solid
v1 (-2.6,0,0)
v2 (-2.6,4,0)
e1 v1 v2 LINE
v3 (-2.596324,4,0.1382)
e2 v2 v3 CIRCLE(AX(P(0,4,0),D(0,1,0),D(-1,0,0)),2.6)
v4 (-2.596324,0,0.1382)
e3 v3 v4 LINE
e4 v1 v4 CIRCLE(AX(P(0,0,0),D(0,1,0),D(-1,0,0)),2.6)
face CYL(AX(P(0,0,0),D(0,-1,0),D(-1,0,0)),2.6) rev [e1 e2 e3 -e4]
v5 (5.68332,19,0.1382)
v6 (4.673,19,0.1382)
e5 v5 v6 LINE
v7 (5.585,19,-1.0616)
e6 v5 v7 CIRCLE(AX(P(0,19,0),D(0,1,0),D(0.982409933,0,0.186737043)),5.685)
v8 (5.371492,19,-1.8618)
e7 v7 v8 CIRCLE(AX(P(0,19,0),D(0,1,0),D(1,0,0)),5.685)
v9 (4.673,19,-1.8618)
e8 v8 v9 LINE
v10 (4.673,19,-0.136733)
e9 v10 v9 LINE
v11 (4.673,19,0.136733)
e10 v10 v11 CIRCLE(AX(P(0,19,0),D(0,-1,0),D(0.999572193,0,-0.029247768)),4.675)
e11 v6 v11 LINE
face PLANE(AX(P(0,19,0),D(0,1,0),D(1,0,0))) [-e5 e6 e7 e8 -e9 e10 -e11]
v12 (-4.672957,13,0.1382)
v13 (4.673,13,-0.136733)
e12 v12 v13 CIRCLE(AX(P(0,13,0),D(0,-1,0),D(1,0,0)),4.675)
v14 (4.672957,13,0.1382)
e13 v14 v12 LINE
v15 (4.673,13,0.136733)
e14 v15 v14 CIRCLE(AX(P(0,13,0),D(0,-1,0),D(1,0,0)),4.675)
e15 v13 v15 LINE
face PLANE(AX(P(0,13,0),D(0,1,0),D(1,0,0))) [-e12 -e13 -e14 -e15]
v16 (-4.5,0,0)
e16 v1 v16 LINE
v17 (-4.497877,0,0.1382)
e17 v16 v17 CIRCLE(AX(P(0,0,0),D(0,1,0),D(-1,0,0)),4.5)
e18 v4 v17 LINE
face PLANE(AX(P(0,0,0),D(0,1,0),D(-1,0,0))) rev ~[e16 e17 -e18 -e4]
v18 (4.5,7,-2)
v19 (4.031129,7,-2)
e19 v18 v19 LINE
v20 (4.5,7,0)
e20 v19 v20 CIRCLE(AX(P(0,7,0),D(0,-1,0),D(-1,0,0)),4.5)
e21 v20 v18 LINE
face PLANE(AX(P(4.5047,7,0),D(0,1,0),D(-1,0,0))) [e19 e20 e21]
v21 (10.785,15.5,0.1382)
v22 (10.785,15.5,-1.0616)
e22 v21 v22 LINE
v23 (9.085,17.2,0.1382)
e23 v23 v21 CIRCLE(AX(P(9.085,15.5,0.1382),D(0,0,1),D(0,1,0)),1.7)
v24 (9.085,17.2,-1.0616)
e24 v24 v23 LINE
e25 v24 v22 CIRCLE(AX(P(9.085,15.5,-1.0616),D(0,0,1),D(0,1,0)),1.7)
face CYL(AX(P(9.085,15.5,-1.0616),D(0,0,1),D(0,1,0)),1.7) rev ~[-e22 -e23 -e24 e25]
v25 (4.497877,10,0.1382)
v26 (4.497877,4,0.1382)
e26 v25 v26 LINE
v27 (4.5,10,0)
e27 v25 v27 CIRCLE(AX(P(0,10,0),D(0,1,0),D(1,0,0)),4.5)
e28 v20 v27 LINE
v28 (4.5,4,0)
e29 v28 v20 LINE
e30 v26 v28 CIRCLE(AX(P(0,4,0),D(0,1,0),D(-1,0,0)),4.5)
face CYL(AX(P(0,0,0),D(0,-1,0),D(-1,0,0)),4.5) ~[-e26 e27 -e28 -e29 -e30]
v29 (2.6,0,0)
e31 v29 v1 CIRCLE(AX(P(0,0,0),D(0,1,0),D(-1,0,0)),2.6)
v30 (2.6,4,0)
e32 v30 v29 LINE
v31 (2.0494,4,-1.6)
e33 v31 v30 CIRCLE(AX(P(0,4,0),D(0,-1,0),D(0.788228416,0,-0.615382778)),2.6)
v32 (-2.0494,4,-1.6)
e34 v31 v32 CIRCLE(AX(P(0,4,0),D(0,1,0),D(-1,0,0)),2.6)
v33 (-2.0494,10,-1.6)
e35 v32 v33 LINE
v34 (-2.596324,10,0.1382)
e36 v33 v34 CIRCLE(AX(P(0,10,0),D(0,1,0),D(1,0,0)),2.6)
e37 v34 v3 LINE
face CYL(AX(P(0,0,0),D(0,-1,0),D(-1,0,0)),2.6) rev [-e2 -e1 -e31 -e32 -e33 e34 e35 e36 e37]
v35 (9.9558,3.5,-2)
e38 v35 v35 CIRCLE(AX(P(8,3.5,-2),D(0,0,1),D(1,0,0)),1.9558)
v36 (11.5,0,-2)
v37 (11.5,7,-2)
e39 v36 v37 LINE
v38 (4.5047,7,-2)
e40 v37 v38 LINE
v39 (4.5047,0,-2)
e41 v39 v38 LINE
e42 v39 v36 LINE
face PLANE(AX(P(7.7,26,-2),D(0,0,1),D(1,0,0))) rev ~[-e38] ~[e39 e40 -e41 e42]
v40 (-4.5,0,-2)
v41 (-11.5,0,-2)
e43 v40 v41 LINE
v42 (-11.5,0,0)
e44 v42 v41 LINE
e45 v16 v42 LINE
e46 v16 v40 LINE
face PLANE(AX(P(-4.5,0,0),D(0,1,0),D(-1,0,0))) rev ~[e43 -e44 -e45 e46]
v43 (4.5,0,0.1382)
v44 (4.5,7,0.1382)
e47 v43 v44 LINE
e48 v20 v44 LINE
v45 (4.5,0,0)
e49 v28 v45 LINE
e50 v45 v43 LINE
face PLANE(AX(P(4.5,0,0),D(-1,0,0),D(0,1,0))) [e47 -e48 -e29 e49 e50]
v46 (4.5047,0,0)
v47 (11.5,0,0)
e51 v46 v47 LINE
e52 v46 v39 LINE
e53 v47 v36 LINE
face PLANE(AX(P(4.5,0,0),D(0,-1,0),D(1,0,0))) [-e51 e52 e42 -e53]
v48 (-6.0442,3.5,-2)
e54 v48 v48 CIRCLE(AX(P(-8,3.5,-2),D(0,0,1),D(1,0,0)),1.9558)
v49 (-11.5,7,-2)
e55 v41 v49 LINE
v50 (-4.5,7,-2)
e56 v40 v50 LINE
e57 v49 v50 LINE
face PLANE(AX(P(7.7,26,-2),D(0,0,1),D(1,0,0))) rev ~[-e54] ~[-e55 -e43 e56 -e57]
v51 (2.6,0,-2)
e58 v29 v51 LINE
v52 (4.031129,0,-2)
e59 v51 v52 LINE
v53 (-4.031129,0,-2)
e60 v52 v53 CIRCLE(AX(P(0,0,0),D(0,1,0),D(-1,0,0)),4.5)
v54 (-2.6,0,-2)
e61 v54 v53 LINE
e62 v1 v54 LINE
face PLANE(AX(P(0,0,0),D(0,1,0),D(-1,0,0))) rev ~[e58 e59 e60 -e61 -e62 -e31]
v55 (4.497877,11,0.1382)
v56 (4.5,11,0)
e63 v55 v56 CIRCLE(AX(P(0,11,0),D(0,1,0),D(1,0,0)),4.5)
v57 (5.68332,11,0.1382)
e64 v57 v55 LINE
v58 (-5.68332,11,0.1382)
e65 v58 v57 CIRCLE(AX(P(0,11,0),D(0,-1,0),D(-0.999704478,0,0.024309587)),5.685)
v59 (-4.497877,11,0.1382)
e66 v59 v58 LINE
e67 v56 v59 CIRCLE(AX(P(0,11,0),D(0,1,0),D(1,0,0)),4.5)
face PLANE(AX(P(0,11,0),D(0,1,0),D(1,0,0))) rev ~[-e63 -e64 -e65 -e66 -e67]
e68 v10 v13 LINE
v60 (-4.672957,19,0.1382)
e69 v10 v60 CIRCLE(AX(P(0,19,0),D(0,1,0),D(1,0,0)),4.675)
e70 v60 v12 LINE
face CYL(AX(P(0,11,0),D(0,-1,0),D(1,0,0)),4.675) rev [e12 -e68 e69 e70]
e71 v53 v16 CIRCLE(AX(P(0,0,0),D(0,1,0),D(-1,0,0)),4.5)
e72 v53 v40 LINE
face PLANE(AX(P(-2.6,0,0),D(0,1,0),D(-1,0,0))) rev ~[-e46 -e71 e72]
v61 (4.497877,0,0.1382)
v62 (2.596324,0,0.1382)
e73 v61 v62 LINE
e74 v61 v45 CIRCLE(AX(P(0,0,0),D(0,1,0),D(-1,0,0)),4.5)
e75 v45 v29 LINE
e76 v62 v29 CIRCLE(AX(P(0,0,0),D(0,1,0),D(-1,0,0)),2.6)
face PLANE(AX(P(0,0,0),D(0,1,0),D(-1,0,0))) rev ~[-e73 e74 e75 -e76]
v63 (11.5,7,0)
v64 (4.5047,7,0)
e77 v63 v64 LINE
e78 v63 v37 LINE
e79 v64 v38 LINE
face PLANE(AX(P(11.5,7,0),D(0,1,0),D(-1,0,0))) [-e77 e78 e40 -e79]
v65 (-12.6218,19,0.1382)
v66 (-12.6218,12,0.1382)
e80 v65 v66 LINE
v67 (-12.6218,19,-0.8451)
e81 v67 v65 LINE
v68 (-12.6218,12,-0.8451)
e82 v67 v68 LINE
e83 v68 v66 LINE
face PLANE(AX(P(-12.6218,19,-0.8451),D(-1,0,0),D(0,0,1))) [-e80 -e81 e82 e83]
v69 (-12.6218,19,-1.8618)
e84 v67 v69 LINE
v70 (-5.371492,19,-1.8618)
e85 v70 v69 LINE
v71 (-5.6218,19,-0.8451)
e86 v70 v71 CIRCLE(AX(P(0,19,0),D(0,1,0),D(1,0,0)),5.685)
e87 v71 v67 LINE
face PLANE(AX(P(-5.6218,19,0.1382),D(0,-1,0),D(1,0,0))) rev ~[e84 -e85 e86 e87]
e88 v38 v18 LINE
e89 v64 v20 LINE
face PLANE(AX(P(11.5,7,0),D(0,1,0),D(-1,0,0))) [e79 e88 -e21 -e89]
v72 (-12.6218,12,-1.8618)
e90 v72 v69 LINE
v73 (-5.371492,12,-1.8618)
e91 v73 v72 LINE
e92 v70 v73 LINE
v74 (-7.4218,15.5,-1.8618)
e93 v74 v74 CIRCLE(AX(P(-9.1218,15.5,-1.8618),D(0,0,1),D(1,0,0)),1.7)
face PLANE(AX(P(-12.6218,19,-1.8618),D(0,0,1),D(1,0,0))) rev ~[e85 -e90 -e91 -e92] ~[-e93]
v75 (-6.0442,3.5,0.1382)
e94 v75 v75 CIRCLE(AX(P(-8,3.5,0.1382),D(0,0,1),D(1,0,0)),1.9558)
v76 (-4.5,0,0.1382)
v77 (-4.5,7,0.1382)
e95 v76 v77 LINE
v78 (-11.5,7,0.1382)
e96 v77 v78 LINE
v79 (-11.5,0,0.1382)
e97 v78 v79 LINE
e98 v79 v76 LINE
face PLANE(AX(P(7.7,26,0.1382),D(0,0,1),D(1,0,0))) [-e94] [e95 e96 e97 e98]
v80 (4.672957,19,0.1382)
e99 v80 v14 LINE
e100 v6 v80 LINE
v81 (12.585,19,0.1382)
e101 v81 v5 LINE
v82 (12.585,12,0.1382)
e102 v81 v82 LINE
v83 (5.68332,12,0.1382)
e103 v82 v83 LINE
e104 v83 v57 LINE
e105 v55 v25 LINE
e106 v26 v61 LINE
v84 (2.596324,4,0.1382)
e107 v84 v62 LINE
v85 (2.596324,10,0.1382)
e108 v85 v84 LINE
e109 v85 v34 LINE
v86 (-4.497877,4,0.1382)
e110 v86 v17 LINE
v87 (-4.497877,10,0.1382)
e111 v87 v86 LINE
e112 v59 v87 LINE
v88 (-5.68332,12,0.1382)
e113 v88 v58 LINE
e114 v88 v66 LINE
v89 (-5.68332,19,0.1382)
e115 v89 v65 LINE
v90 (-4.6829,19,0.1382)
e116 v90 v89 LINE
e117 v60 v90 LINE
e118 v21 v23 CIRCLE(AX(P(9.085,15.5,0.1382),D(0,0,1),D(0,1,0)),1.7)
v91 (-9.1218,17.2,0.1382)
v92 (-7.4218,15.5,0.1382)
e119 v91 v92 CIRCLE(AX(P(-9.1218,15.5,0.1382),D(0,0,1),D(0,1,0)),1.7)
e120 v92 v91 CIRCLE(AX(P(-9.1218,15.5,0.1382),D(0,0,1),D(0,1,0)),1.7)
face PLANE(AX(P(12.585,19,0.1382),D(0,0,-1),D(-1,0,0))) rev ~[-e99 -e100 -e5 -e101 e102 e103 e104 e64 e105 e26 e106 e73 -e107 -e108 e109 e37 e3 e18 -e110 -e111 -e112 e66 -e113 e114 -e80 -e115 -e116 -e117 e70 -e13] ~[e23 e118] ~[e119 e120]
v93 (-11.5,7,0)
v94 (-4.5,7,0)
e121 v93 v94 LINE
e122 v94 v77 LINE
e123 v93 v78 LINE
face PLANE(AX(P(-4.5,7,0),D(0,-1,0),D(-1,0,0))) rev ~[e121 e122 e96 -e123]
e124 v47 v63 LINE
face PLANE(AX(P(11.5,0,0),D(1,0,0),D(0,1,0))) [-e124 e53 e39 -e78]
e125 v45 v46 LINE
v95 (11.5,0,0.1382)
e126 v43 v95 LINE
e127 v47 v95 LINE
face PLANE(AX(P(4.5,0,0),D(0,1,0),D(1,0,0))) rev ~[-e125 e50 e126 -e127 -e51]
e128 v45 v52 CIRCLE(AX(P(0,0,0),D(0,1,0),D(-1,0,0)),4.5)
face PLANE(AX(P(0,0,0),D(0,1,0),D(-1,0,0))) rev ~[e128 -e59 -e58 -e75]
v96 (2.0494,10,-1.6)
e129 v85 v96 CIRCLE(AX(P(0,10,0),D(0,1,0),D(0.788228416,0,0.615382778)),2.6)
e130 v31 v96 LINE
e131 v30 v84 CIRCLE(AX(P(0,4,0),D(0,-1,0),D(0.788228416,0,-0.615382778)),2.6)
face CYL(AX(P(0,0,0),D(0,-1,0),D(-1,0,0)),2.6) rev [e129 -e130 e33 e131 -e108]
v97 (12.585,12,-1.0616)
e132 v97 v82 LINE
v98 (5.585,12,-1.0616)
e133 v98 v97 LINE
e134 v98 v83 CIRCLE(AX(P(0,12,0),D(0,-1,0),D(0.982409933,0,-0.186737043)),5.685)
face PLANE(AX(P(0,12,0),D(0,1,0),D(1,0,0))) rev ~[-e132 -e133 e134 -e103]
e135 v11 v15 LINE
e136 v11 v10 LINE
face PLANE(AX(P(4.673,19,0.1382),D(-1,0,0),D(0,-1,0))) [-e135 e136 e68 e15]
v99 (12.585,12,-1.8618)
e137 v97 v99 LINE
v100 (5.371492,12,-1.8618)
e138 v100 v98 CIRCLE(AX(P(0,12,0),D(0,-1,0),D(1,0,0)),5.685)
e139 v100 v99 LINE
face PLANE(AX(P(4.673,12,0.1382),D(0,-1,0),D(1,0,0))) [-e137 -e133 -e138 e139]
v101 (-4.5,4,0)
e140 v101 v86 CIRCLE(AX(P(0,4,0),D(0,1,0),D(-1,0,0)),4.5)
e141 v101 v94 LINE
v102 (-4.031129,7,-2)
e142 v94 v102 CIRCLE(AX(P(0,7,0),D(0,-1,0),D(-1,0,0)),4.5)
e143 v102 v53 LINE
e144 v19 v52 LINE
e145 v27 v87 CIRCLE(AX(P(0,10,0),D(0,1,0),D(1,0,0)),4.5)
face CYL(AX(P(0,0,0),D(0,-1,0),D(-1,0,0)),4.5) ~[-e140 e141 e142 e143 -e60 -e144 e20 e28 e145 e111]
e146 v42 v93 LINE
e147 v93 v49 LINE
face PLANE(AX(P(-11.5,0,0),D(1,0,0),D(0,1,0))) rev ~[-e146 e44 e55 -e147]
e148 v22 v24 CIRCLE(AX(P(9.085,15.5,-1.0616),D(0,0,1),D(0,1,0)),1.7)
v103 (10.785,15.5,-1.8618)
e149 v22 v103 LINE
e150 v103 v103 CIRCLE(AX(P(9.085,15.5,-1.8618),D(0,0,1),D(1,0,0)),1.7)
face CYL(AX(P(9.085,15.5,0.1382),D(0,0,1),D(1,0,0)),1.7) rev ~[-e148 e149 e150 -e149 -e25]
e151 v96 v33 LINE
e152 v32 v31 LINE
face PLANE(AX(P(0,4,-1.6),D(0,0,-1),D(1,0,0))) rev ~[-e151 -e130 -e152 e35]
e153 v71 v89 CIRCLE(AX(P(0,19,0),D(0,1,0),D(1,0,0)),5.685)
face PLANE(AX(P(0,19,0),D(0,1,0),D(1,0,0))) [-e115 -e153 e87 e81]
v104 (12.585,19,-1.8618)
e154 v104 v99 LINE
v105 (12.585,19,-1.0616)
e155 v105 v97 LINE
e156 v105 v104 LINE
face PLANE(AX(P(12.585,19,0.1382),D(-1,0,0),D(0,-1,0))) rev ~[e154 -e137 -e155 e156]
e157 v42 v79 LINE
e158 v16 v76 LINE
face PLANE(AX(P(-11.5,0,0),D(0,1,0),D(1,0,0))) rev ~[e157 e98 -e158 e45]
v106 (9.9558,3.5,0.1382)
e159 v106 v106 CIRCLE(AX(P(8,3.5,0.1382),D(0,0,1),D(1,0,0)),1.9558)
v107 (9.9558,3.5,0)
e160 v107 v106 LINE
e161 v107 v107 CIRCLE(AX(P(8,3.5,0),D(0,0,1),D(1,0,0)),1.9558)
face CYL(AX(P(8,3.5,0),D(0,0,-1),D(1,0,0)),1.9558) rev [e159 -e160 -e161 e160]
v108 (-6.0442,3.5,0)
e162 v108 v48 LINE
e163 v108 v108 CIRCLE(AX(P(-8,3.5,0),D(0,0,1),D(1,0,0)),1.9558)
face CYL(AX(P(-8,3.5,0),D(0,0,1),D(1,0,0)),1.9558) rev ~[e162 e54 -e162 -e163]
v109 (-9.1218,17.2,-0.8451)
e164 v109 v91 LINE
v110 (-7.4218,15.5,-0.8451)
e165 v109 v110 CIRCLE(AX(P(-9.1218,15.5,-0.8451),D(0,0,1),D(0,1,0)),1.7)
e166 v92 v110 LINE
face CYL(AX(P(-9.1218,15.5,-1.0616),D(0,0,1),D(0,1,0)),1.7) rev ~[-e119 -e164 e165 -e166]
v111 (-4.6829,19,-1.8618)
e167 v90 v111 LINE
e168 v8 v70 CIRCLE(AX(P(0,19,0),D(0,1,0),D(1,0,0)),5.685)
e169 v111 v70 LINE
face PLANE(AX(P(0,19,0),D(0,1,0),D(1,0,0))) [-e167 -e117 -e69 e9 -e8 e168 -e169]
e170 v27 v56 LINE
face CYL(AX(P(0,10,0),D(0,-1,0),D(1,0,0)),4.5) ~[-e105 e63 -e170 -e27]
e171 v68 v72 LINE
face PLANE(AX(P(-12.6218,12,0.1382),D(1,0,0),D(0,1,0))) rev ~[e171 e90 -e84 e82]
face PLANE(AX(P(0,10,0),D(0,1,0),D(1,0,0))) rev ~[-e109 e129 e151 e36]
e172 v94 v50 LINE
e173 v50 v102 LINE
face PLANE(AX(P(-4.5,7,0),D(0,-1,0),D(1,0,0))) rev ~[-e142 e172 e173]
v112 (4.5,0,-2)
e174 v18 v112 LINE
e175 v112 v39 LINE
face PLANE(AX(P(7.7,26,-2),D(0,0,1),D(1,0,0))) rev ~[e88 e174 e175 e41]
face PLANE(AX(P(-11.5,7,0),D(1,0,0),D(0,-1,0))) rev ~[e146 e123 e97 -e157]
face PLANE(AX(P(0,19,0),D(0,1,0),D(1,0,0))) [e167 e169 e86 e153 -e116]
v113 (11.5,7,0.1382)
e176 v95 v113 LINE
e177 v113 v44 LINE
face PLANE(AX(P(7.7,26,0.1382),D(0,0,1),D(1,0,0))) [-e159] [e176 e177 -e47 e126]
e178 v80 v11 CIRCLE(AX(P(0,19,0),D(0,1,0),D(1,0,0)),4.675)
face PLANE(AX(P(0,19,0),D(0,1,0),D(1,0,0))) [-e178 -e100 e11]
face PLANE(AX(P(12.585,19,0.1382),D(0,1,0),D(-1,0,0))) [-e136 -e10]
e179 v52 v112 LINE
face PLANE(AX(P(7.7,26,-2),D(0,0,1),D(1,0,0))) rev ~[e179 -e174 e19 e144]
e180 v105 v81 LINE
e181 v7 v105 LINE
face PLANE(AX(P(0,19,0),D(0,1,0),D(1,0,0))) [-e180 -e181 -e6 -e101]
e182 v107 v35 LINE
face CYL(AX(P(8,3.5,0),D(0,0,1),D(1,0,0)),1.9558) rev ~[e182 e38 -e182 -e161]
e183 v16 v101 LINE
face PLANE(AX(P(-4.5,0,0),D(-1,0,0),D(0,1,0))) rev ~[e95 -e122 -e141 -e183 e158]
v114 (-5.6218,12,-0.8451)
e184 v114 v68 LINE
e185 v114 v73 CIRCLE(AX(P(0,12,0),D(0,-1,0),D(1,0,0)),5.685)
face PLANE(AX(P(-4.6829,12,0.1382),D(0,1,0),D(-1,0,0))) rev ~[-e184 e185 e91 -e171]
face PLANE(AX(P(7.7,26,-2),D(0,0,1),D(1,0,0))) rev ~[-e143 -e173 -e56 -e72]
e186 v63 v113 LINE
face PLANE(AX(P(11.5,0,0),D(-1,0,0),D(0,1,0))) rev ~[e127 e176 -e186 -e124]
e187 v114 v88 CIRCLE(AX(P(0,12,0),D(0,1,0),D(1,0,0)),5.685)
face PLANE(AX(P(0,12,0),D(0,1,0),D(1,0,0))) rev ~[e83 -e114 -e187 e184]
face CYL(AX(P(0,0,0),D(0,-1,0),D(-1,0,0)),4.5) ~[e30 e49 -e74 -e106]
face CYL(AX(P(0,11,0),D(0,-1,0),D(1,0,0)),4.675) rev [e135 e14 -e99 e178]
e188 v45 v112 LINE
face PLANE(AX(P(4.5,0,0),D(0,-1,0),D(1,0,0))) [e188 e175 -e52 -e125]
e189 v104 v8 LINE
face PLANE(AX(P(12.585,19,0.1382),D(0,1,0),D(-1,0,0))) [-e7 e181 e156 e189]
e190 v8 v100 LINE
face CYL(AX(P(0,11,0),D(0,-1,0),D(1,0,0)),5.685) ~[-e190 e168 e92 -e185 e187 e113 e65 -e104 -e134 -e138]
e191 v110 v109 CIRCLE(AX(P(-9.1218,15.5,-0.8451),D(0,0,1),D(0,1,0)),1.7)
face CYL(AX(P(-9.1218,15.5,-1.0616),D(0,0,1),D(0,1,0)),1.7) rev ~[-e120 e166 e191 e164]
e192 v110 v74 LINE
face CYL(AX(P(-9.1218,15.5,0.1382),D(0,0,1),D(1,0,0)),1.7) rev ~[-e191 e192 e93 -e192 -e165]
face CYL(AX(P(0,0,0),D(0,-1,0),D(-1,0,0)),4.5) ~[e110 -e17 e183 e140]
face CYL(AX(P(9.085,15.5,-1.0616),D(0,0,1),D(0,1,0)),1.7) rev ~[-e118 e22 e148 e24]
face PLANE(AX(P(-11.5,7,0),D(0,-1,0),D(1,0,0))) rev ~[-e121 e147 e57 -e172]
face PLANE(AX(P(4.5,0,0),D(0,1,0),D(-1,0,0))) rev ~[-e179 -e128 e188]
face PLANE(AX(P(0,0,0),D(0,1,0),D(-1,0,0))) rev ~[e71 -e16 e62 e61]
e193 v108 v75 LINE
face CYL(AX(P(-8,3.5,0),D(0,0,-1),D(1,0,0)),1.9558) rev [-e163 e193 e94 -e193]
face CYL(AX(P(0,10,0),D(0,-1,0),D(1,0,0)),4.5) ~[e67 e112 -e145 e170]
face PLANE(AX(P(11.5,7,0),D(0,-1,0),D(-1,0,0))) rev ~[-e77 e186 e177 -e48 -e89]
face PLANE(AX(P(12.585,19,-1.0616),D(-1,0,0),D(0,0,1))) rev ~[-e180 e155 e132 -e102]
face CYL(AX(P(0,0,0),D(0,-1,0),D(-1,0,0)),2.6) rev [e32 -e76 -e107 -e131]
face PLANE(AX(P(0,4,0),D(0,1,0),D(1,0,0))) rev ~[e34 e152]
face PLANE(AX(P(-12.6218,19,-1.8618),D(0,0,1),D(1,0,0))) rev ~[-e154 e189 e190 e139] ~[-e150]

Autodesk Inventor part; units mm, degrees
sketch "Sketch3" plane through (0, 0, 0) normal (0, 1, 0) x (-1, 0, 0)
  circle A0 centre (0, 0) radius 4.5
  circle A1 centre (0, 0) radius 2.6
  dimension "d10" = 9
  dimension "d11" = 5.2
extrude "Extrusion2" add sketch "Sketch3" along normal blind 4
sketch "Sketch4" plane through (0, 4, 0) normal (0, 1, 0) x (1, 0, 0)
  circle A0 centre (0, 0) radius 2.6 projected
  line L0 (0, -2.6) -> (0, -1.6)
  line L1 (0, -1.6) -> (0, 2.6)
  line L2 (0, -1.6) -> (-2.0494, -1.6)
  line L3 (0, -1.6) -> (2.0494, -1.6)
  line L4 (0, 2.6) -> (0, 2.6)
  line L5 (0, 2.6) -> (0, 2.6)
  circle A1 centre (0, 0) radius 4.5 projected
  circle A2 centre (0, 0) radius 2.6 projected
  line L6 (0, 2.6) -> (0, 1.6)
  line L7 (0, 1.6) -> (2.0494, 1.6)
  line L8 (0, 1.6) -> (-2.0494, 1.6)
  point P0 (2.0494, 1.6)
  point P1 (-2.0494, 1.6)
  dimension "d14" = 1
  dimension "d20" = 1
extrude "Extrusion3" add sketch "Sketch4" along normal blind 6 contours L7 L1 A0 | A0 L0 L3 | L1 L8 A0 | A0 L2 L0 | A1
sketch "Sketch5" plane through (0, 10, 0) normal (0, 1, 0) x (1, 0, 0)
  circle A0 centre (0, 0) radius 4.5 projected
extrude "Extrusion4" add sketch "Sketch5" along normal blind 1
sketch "Sketch11" plane through (0, 0, 0) normal (0, -1, 0) x (1, 0, 0)
  point P0 (0, 0)
sketch "Sketch12" plane through (0, 11, 0) normal (0, 1, 0) x (1, 0, 0)
  circle A0 centre (0, 0) radius 4.675
  circle A1 centre (0, 0) radius 5.685
  dimension "d59" = 9.35
  dimension "d60" = 11.37
extrude "Extrusion11" add sketch "Sketch12" along normal blind 2 contours A0 | A1
extrude "Extrusion12" add sketch "Sketch12" along normal blind 8
sketch "Sketch14" plane through (0, 19, 0) normal (0, 1, 0) x (1, 0, 0)
  point P0 (0, 0)
sketch "Sketch15" plane through (0, 19, 0) normal (0, 1, 0) x (1, 0, 0)
  circle A0 centre (0, 0) radius 5.685 projected
  line L0 (5.685, 0) -> (5.585, 0)
  line L1 (5.585, 0) -> (5.585, -1.0616)
  circle A1 centre (0, 0) radius 5.685 projected
  line L2 (5.585, 0) -> (5.585, 1.0616)
  line L3 (5.585, 1.0616) -> (12.585, 1.0616)
  line L4 (12.585, 1.0616) -> (12.585, -1.3379)
  line L5 (12.585, -1.3379) -> (5.585, -1.3379)
  line L6 (5.585, -1.3379) -> (5.585, 1.0616)
  line L7 (-5.6218, 0.8451) -> (-5.6218, -0.8451)
  line L8 (-5.6218, 0.8451) -> (-12.6218, 0.8451)
  line L9 (-12.6218, 0.8451) -> (-12.6218, -0.8451)
  line L10 (-12.6218, -0.8451) -> (-5.6218, -0.8451)
  line L11 (-5.6218, -0.8451) -> (-5.6218, 0.8451)
  point P0 (-5.6218, -0.8451)
  point P1 (8.9, -1.3379)
  point P2 (5.585, -1.0616)
  dimension "d72" = 0.1
  dimension "d73" = 7
  dimension "d74" = 7
ref_plane "Work Plane3" through (-5.6218, 26, -0.8451) normal (0, 0, -1) x (-1, 0, 0)
sketch "Sketch17" plane through (-5.6218, 26, -0.8451) normal (0, 0, -1) x (-1, 0, 0)
  line L0 (7, 0) -> (7, -7) projected
  line L1 (-10.3068, 0) -> (7, 0) projected
  line L2 (7, -3.5) -> (3.5, -3.5)
  line L3 (-18.2068, 0) -> (-18.2068, -7) projected
  line L4 (-18.2068, -3.5) -> (-14.7068, -3.5)
  point P0 (-5.6218, -26)
  dimension "d81" = 3.5
  dimension "d82" = 3.5
ref_plane "Work Plane2" through (7.7, 26, 0) normal (0, 0, 1) x (1, 0, 0)
sketch "Sketch19" plane through (7.7, 26, 0) normal (0, 0, 1) x (1, 0, 0)
  line L0 (-12.2, -26) -> (-12.2, -15) projected
  line L1 (-12.2, -26) -> (-19.2, -26)
  line L2 (-19.2, -26) -> (-19.2, -19)
  line L3 (-19.2, -19) -> (-12.2, -19)
  line L4 (-12.2, -19) -> (-12.2, -26)
  line L5 (-3.2, -15) -> (-3.2, -26) projected
  line L6 (-3.2, -26) -> (3.8, -26)
  line L7 (3.8, -26) -> (3.8, -19)
  line L8 (3.8, -19) -> (-3.2, -19)
  line L9 (-3.2, -19) -> (-3.2, -26)
  circle A0 centre (0.3, -22.5) radius 1.9558
  circle A1 centre (-15.7, -22.5) radius 1.9558
  point P0 (-7.7, -26)
  point P1 (-3.2, -19)
  dimension "d93" = 7
  dimension "d94" = 7
  dimension "d95" = 7
  dimension "d96" = 7
  dimension "d97" = 3.9116
  dimension "d98" = 3.9116
extrude "Extrusion17" add sketch "Sketch19" against normal blind 2
ref_plane "Work Plane1" through (7.7, 26, 0) normal (0, 0, 1) x (1, 0, 0)
sketch "Sketch20" plane through (7.7, 26, 0) normal (0, 0, 1) x (1, 0, 0)
  line L0 (-12.2, -19) -> (-12.2, -15) projected
  line L1 (-10.3, -16) -> (-10.3, -26) projected
  line L2 (-12.2, -19) -> (-10.3, -19)
  line L3 (-10.3, -19) -> (-10.3, -26)
  line L4 (-10.3, -26) -> (-12.2, -26)
  line L5 (-12.2, -26) -> (-12.2, -19)
  line L6 (-3.2, -26) -> (-5.1, -26) projected
  line L7 (-3.1953, -19) -> (-5.1, -19)
  line L8 (-5.1, -19) -> (-5.1, -26)
  line L9 (-5.1, -26) -> (-3.1953, -26)
  line L10 (-3.1953, -26) -> (-3.1953, -19)
  point P0 (-7.7, -26)
extrude "Extrusion18" add sketch "Sketch20" against normal blind 2
extrude "Extrusion20" add sketch "Sketch15" against normal blind 7 contours A0 L3 L4 L5 L6 | A0 L10 L9 L8
hole "Hole2" at (9.085, 22.5, -0.8451) at (-9.1218, 22.5, -0.8451) direction (0, 0, 1) diameter 3.4 end through all clearance for "Flat Head Machine Screw" size "M3" standard "Ansi Metric M Profile"
sketch "Sketch22" plane through (7.7, 26, 0) normal (0, 0, 1) x (1, 0, 0)
  point P0 (-7.7, -26)
sketch "Sketch23" plane through (5.585, 19, 1.3379) normal (0, 0, 1) x (1, 0, 0)
  point P0 (-5.585, -19)
sketch "Sketch24" plane through (12.585, 19, -1.0616) normal (0, 0, -1) x (-1, 0, 0)
  line L0 (0, 0) -> (0, -7) projected
  line L1 (0, 0) -> (7, 0) projected
  line L2 (0, -3.5) -> (3.5, -3.5)
  line L3 (3.5, -3.5) -> (3.5, 0)
  line L4 (3.5, 0) -> (0, 0)
  line L5 (0, 0) -> (0, -3.5)
  line L6 (18.2068, 0) -> (25.2068, 0) projected
  line L7 (25.2068, 0) -> (21.7068, 0)
  line L8 (21.7068, 0) -> (21.7068, -3.5)
  line L9 (21.7068, -3.5) -> (25.2068, -3.5)
  line L10 (25.2068, -3.5) -> (25.2068, 0)
  point P0 (12.585, -19)
hole "Hole3" at (9.085, 15.5, -1.0616) at (-9.1218, 15.5, -1.0616) direction (0, 0, 1) diameter 3.4 end through all clearance for "Flat Head Machine Screw" size "M3" standard "Ansi Metric M Profile"
sketch "Sketch21" plane through (0, 19, 0) normal (0, 1, 0) x (1, 0, 0)
  line L0 (12.585, 1.0616) -> (12.585, -1.3379) projected
  line L1 (12.585, -0.1382) -> (-17.8482, -0.1382)
  line L2 (-17.8482, -0.1382) -> (-17.8482, -11.8989)
  line L3 (-17.8482, -11.8989) -> (12.585, -11.8989)
  line L4 (12.585, -11.8989) -> (12.585, -0.1382)
  point P0 (0, 0)
extrude "Extrusion19" cut sketch "Sketch21" against normal blind 76.2
sketch "Sketch25" plane through (-12.6218, 19, 0.1382) normal (0, 0, 1) x (1, 0, 0)
  line L0 (7.9489, -6) -> (17.2948, -6) projected
  line L1 (17.2948, -6) -> (17.2948, -7)
  line L2 (25.2068, 0) -> (25.2068, -7) projected
  line L3 (17.2948, -7) -> (25.2068, -7)
  line L4 (25.2068, -7) -> (25.2068, 0)
  line L5 (25.2068, 0) -> (17.2948, 0)
  line L6 (17.2948, 0) -> (17.2948, -7)
  line L7 (7, 0) -> (0, 0) projected
  line L8 (7.9389, -7) -> (0, -7)
  line L9 (0, -7) -> (0, 0)
  line L10 (0, 0) -> (7.9389, 0)
  line L11 (7.9389, 0) -> (7.9389, -7)
  circle A0 centre (3.5, -3.5) radius 1.7 projected
  circle A1 centre (21.7068, -3.5) radius 1.7 projected
  point P0 (12.6218, -19)
extrude "Extrusion21" add sketch "Sketch25" against normal blind 2
sketch "Sketch26" plane through (7.7, 26, 0) normal (0, 0, 1) x (1, 0, 0)
  line L0 (-19.2, -26) -> (-12.2, -26) projected
  line L1 (-3.2, -26) -> (-3.2, -19) projected
  line L2 (-12.2, -19) -> (-19.2, -19) projected
  line L3 (-19.2, -19) -> (-19.2, -26) projected
  circle A0 centre (-15.7, -22.5) radius 1.9558 projected
  circle A1 centre (0.3, -22.5) radius 1.9558 projected
  line L4 (3.8, -26) -> (3.8, -19) projected
  line L5 (3.8, -19) -> (-3.2, -19) projected
  line L6 (-3.2, -26) -> (-3.2, -19) projected
  line L7 (-19.2, -26) -> (-12.2, -26) projected
  line L8 (-12.2, -26) -> (-12.2, -19) projected
  line L9 (-12.2, -19) -> (-19.2, -19) projected
  line L10 (-19.2, -19) -> (-19.2, -26) projected
  line L11 (-3.2, -26) -> (3.8, -26) projected
  line L12 (-12.2, -26) -> (-12.2, -19) projected
  line L13 (-3.2, -26) -> (3.8, -26) projected
  line L14 (3.8, -26) -> (3.8, -19) projected
  line L15 (3.8, -19) -> (-3.2, -19) projected
  point P0 (-7.7, -26)
extrude "Extrusion22" add sketch "Sketch26" along normal up to surface (0.1382 mm away)
properties part number "4"
